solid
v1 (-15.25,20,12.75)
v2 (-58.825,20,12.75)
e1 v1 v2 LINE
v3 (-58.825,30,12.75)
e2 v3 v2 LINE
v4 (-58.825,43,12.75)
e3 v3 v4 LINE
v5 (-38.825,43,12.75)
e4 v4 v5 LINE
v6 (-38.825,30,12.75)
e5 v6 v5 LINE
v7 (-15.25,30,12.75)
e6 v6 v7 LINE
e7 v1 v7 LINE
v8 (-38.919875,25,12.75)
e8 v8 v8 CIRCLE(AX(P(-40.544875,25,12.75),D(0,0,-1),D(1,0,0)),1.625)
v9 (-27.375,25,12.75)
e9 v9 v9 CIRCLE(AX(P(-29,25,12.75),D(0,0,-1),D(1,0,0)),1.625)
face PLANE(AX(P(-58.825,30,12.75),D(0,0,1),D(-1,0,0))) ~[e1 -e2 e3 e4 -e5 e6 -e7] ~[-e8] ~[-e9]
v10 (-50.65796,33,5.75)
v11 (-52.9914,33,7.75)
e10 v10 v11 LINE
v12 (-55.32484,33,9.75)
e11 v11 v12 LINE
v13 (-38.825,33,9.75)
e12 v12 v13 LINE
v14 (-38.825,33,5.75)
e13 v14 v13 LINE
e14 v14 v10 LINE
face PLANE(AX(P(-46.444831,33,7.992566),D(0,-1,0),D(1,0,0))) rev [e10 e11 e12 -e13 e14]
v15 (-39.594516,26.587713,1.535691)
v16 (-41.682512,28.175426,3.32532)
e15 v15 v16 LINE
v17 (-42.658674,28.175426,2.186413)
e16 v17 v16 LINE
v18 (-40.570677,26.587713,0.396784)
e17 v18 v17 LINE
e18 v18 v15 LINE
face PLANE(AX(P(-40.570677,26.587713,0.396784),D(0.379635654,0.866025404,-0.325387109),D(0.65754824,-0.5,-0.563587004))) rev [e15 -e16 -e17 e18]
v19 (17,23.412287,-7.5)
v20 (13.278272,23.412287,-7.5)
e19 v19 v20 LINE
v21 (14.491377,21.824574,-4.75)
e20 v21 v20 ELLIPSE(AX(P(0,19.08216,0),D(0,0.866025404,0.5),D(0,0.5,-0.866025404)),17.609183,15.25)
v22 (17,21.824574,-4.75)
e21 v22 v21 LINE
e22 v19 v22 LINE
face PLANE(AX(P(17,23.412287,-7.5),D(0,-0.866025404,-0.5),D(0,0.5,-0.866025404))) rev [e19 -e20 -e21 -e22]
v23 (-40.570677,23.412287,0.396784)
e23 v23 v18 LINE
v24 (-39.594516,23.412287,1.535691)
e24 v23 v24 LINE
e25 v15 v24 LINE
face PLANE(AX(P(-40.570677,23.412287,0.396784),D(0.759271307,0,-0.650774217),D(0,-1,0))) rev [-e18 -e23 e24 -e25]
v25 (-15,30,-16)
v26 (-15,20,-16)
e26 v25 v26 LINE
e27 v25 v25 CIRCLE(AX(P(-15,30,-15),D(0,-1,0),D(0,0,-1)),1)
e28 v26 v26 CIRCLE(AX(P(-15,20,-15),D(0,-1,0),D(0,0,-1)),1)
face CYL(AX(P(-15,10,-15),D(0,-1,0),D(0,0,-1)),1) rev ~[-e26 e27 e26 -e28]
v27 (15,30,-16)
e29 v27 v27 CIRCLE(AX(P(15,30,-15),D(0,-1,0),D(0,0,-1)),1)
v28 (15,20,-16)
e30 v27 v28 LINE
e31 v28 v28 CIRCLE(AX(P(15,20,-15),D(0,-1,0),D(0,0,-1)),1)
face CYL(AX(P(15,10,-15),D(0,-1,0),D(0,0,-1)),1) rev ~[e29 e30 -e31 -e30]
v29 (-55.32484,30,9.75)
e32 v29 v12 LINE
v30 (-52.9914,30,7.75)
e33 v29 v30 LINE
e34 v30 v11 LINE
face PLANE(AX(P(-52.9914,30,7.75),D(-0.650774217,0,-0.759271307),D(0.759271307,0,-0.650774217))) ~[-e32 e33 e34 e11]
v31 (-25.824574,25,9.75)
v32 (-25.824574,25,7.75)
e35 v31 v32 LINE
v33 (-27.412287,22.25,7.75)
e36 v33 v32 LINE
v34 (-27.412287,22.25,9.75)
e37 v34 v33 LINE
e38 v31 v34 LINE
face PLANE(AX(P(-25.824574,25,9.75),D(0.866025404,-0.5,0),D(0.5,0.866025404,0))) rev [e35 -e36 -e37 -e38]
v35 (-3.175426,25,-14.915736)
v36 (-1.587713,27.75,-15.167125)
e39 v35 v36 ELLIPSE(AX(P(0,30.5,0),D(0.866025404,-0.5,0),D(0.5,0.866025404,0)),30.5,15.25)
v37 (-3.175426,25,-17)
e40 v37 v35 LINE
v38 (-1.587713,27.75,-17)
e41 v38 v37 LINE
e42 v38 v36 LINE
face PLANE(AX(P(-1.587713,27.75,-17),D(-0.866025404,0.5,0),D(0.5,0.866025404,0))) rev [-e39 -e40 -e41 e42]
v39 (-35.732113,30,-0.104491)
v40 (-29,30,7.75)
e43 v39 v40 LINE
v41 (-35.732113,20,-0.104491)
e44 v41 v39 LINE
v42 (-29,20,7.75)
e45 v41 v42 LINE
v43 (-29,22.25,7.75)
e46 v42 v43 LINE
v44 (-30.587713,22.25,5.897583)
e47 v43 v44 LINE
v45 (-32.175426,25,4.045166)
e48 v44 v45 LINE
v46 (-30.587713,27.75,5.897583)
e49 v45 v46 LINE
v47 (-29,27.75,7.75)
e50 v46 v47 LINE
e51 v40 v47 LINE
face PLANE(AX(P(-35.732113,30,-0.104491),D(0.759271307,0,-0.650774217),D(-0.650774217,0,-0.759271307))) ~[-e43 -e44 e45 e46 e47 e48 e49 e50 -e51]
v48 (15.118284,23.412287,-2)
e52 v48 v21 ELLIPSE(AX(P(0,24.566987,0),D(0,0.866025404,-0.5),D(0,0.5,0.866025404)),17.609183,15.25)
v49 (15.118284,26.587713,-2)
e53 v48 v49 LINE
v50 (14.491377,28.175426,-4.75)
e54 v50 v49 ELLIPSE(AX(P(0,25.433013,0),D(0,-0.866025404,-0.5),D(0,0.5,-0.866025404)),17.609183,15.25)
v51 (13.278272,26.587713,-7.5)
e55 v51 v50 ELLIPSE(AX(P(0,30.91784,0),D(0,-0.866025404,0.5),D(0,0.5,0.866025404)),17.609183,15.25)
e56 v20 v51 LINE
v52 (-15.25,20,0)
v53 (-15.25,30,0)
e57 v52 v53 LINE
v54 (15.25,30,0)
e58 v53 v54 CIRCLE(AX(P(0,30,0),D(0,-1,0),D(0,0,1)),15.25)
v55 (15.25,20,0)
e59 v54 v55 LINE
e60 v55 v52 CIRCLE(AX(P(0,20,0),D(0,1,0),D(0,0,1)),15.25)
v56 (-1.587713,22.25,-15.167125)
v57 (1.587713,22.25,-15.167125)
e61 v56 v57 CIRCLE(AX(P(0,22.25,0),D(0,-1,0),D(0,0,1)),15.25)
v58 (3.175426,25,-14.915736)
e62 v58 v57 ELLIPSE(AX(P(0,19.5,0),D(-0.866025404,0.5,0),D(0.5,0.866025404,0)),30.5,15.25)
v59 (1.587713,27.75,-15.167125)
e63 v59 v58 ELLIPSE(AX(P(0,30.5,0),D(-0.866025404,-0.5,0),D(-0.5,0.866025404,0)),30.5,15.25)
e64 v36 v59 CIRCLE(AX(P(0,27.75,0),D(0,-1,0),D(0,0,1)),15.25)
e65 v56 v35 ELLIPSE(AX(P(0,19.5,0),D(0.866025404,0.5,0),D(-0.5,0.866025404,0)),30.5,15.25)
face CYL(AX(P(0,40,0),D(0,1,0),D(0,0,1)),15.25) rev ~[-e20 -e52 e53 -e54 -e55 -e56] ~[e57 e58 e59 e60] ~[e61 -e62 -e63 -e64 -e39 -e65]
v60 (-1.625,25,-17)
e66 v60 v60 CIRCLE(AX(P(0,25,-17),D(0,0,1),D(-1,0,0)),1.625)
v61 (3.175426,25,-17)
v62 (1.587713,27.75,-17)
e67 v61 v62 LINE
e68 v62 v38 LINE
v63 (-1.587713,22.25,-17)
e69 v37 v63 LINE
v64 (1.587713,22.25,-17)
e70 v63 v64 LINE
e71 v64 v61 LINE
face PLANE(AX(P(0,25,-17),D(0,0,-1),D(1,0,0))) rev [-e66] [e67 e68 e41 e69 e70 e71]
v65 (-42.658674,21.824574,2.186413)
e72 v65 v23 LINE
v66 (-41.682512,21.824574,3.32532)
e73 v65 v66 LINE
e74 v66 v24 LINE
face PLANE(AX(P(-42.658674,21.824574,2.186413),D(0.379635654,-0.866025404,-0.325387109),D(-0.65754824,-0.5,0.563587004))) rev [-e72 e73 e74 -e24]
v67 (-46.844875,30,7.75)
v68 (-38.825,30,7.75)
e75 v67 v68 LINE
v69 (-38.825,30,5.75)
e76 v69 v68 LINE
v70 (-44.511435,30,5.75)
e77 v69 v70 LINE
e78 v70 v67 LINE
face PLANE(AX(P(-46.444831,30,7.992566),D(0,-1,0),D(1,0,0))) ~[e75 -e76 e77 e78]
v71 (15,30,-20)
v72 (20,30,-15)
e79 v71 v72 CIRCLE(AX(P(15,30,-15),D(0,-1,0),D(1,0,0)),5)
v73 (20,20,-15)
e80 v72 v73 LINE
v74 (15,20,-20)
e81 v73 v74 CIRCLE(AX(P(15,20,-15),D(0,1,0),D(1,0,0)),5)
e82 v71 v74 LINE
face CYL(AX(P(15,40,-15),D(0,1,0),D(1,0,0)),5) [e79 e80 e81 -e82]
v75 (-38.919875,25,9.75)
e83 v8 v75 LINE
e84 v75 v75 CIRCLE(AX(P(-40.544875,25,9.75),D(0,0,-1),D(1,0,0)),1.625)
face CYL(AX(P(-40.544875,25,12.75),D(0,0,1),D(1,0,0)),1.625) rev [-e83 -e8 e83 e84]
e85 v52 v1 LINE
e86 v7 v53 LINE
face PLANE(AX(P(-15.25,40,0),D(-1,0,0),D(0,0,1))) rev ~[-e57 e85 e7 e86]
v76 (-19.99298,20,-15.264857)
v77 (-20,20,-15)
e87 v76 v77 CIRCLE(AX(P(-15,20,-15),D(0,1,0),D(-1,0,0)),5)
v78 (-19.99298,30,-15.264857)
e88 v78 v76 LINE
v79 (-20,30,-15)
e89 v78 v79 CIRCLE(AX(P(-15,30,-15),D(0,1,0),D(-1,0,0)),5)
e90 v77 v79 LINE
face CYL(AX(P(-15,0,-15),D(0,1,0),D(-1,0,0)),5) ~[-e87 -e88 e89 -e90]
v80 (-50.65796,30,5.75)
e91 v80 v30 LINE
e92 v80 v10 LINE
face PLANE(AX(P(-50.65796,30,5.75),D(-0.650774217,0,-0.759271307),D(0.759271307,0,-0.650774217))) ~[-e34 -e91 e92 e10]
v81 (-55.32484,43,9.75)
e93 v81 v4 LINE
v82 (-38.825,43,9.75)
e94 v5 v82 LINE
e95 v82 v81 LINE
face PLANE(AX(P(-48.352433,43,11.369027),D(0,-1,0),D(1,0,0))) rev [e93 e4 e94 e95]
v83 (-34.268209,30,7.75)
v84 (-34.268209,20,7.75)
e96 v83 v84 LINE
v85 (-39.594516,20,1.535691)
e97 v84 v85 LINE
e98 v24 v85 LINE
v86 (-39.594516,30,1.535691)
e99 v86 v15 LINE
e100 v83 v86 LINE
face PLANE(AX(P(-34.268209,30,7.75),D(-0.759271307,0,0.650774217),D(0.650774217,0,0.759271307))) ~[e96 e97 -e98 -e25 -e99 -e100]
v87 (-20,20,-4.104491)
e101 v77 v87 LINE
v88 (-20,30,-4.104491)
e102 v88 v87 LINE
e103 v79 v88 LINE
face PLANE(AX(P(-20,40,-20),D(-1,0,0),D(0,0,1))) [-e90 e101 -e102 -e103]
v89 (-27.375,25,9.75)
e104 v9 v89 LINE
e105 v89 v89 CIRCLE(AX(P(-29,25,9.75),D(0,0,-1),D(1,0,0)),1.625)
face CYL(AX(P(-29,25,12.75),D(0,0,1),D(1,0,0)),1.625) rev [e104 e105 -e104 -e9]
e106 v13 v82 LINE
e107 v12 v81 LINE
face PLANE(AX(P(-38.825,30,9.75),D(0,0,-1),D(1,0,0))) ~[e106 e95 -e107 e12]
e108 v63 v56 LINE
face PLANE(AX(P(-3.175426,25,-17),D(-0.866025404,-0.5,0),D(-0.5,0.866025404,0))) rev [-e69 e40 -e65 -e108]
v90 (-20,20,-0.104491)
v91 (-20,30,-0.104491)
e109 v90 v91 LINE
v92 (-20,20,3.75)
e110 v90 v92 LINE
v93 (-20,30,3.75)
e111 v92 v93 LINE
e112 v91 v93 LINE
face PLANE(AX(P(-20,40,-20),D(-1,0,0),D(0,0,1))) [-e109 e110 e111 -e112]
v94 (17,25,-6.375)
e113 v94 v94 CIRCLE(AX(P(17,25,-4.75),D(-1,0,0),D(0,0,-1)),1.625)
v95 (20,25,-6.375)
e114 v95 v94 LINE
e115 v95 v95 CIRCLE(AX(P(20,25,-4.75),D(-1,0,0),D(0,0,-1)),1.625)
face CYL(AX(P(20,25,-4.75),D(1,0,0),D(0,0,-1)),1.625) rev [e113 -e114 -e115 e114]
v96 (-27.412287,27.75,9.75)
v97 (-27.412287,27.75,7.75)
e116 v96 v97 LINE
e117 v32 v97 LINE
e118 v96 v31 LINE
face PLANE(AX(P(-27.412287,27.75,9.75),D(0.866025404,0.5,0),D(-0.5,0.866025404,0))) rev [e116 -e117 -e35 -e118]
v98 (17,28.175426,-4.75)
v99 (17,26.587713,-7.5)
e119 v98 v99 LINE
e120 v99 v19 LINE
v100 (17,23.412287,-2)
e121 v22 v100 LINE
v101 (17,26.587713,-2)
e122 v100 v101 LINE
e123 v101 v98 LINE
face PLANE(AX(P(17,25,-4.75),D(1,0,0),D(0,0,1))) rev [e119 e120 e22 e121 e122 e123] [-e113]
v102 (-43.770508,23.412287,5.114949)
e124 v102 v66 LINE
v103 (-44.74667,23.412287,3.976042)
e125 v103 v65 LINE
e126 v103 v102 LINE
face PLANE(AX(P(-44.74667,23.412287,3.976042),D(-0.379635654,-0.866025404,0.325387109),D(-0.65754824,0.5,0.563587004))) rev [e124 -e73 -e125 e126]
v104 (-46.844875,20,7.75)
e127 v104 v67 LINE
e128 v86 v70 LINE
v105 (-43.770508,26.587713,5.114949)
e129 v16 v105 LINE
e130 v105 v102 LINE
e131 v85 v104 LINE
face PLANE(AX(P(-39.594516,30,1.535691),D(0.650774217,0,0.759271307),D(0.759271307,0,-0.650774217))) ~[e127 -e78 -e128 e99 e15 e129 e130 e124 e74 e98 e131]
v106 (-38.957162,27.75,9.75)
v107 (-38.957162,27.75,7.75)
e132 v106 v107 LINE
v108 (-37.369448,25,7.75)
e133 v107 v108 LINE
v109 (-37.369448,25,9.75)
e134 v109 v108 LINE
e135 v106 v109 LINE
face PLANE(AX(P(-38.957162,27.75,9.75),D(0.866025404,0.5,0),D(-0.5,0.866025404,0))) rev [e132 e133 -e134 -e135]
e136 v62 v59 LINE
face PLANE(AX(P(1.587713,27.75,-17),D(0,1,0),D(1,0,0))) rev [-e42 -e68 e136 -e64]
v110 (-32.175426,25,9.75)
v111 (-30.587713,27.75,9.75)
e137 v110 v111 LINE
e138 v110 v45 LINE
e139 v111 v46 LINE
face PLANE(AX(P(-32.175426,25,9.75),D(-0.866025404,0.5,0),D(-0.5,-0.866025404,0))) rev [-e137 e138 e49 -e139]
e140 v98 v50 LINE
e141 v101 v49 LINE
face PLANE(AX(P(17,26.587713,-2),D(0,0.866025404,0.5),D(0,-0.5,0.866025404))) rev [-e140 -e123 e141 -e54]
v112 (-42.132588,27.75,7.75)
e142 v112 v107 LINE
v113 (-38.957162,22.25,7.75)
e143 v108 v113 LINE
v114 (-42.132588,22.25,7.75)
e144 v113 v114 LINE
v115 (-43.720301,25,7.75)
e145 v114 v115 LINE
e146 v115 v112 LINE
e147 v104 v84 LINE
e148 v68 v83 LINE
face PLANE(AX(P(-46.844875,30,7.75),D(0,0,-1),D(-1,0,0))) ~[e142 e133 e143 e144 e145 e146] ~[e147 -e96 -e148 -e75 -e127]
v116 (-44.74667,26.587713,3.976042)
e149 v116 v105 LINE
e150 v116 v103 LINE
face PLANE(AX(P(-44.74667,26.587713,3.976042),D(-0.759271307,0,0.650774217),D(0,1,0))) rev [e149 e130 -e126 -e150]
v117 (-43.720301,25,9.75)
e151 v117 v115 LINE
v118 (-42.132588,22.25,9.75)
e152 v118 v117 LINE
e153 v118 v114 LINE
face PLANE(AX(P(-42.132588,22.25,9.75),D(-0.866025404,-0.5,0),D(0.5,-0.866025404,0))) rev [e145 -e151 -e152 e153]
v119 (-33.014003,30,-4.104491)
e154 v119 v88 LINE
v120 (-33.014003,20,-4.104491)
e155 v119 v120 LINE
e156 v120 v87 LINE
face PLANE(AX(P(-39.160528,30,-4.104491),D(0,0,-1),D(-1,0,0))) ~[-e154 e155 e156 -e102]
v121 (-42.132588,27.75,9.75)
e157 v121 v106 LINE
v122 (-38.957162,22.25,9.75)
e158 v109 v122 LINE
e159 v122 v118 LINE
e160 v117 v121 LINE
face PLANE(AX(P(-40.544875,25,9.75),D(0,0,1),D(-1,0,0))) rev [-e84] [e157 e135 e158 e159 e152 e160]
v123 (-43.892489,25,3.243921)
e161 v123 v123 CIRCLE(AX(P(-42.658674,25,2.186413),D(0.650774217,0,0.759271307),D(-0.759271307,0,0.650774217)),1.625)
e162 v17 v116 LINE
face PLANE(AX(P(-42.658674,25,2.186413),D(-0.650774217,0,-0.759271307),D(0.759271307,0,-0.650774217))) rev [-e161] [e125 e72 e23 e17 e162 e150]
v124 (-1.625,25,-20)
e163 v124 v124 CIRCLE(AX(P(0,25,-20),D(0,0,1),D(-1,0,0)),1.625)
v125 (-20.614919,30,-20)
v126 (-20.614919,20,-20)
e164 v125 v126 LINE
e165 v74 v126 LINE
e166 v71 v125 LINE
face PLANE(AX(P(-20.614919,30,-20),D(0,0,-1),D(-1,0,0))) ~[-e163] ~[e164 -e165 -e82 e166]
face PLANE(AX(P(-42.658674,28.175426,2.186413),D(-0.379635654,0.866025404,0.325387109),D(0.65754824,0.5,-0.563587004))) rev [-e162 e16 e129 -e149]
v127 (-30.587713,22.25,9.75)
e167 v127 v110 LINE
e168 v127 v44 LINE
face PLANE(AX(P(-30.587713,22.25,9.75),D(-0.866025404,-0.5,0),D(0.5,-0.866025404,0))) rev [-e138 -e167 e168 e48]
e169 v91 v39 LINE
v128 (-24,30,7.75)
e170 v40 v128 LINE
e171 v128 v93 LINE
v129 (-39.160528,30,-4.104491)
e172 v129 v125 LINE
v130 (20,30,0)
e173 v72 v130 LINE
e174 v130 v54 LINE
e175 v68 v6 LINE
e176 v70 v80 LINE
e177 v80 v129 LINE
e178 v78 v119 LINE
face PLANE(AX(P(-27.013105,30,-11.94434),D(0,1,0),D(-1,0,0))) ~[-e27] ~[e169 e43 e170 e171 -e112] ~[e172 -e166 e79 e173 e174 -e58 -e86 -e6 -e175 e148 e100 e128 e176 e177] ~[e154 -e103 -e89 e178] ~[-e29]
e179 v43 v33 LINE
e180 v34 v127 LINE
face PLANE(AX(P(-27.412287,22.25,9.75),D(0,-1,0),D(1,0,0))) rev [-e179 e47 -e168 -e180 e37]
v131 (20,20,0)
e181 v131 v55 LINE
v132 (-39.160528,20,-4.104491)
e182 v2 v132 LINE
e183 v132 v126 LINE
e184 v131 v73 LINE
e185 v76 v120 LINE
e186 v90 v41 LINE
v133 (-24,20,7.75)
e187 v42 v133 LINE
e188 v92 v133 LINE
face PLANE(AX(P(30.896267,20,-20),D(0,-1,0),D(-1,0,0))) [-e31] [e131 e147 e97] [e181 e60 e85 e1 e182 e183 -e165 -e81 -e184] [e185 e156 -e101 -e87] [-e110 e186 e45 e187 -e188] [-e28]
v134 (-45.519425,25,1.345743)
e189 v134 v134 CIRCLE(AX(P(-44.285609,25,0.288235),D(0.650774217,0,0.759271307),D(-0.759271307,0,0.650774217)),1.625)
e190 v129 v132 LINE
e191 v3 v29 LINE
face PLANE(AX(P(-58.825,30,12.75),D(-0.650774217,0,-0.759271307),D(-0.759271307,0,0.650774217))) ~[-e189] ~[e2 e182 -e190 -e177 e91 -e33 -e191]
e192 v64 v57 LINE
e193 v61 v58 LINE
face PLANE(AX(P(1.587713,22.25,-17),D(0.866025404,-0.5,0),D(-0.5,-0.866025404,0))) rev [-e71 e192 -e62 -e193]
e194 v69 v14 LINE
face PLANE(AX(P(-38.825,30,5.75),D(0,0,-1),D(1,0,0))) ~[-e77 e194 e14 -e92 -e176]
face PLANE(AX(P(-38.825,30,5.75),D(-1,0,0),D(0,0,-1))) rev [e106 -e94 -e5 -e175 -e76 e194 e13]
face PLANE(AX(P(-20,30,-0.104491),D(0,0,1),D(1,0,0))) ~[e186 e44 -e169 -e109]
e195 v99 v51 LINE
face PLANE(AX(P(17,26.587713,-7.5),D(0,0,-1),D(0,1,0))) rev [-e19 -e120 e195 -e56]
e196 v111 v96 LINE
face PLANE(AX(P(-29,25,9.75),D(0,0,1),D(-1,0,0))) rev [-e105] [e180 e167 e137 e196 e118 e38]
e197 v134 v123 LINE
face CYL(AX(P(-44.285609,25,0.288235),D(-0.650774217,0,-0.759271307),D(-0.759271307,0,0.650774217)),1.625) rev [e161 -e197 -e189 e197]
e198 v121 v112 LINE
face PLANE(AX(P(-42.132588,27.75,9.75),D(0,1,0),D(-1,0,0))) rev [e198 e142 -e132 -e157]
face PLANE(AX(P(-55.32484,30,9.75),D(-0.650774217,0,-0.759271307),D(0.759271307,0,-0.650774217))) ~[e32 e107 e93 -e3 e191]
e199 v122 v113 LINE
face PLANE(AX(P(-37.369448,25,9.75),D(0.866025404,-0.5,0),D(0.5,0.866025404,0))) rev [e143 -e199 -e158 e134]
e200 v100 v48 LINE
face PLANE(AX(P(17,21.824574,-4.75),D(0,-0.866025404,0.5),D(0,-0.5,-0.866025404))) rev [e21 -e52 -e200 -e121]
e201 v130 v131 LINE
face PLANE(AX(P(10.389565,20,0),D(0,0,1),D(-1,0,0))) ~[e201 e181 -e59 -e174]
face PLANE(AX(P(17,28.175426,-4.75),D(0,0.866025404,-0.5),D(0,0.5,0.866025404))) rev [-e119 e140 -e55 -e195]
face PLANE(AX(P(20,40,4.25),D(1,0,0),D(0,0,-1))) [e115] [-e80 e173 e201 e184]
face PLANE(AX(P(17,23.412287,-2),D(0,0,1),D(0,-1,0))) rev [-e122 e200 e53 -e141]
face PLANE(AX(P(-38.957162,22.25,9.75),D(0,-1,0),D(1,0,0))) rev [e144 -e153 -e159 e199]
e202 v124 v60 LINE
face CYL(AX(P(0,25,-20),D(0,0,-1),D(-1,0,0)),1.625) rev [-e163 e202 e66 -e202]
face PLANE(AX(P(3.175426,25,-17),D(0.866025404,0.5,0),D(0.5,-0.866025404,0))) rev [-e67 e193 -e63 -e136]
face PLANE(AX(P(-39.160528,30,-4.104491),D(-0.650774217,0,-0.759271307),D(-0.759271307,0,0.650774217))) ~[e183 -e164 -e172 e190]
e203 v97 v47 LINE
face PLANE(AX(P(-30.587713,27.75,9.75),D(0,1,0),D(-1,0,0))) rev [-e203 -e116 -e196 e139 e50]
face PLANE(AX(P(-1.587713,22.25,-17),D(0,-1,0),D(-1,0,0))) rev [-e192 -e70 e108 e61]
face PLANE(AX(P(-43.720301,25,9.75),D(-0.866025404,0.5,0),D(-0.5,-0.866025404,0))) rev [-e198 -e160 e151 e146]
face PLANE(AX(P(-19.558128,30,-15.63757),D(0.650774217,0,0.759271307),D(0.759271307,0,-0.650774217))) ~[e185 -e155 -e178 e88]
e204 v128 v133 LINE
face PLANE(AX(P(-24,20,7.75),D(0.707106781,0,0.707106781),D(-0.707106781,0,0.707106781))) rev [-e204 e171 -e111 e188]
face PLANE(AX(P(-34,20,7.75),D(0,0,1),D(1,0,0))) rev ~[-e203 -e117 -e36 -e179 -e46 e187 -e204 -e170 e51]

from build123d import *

# Parameters (mm, degrees)
CROQUIS1_R                              = 15.25
CROQUIS1_R_2                            = 2.125
SOPORTE_CAJA_REDUCTORA_DEPTH            = 20
CROQUIS3_R                              = 2.125
CORTAR_EXTRUIR1_DEPTH                   = 51.423828692
REDONDEO1_R                             = 5
BOSS_EXTRUDE1_DEPTH                     = 20
CUT_EXTRUDE1_REACH                      = 55.852
SKETCH2_R                               = 1.625
CUT_EXTRUDE2_DEPTH                      = 2
SKETCH4_R                               = 1.625
CUT_EXTRUDE3_DEPTH                      = 63.291652731
CUT_EXTRUDE4_START                      = -4.5
CUT_EXTRUDE4_DEPTH                      = 2
CROQUIS6_W                              = 4.75
CROQUIS6_H                              = 4.75
CORTAR_EXTRUIR17_DEPTH                  = 42.231056256
CROQUIS7_W                              = 60
CROQUIS7_H                              = 20
CORTAR_EXTRUIR18_DEPTH                  = 51.423828692
SALIENTE_EXTRUIR2_DEPTH                 = 49
SOPORTE_START                           = -15
SOPORTE_MOTOR_DEPTH                     = 15
CROQUIS12_R                             = 2.125
AGUJEROS_DE_SUJECION_A_BASE_DEPTH       = 84.087679592
TUERCA_START                            = -4
TUERCA_AGUJERO_DE_SUJECION_A_BASE_DEPTH = 10
SALIENTE_EXTRUIR4_DEPTH                 = 15
CORTAR_EXTRUIR19_DEPTH                  = 25
CROQUIS14_W                             = 50
CROQUIS14_H                             = 118
CORTAR_EXTRUIR22_DEPTH                  = 146.556045907
CROQUIS15_W                             = 10
CROQUIS15_H                             = 7
CORTAR_EXTRUIR23_DEPTH                  = 42.231056256
CORTAR_EXTRUIR24_DEPTH                  = 42.231056256
CROQUIS18_W                             = 40
CROQUIS18_H                             = 10
CORTAR_EXTRUIR25_DEPTH                  = 44.27311521
SALIENTE_EXTRUIR5_DEPTH                 = 10
CROQUIS20_R                             = 1
CORTAR_EXTRUIR26_DEPTH                  = 49.229270158
CORTAR_EXTRUIR27_REACH                  = 62.959
CORTAR_EXTRUIR27_END_RADIUS             = 15.25
CROQUIS21_R                             = 1.625
CROQUIS22_R                             = 2.125
CROQUIS22_R_2                           = 1
SALIENTE_EXTRUIR6_DEPTH                 = 10
CROQUIS23_R                             = 1.625
CORTAR_EXTRUIR28_DEPTH                  = 52.269508521
CORTAR_EXTRUIR29_START                  = -3
CORTAR_EXTRUIR29_DEPTH                  = 10
SALIENTE_EXTRUIR7_DEPTH                 = 10
CORTAR_EXTRUIR30_REACH                  = 72.235
CROQUIS27_R                             = 1.625
CORTAR_EXTRUIR31_REACH                  = 75.235
CORTAR_EXTRUIR31_START                  = -3
CORTAR_EXTRUIR32_REACH                  = 58.612
CROQUIS29_R                             = 1.625
CORTAR_EXTRUIR33_REACH                  = 61.112
CORTAR_EXTRUIR33_START                  = -2.5
CROQUIS35_W                             = 13.305418987
CROQUIS35_H                             = 6.826864192
CORTAR_EXTRUIR34_DEPTH                  = 63.931555098
CORTAR_EXTRUIR34_DEPTH_BACK             = 63.931555098
CORTAR_EXTRUIR35_START                  = -3
CORTAR_EXTRUIR35_DEPTH                  = 10
SALIENTE_EXTRUIR8_DEPTH                 = 10
SALIENTE_EXTRUIR9_DEPTH                 = 13
SALIENTE_EXTRUIR10_DEPTH                = 3
CROQUIS40_W                             = 106.583537839
CROQUIS40_H                             = 47.391515964
CORTAR_EXTRUIR36_DEPTH                  = 80.887064817
CORTAR_EXTRUIR36_DEPTH_BACK             = 80.887064817


with BuildPart() as part:
    # Croquis1 → Soporte caja reductora (new body)
    with BuildSketch(Plane(origin=(0, 0, 0), x_dir=(1, 0, 0), z_dir=(0, 1, 0))):
        Polygon((-30, -15.25), (-20, -15.25), (-20, -20), (20, -20), (20, -15.25), (30, -15.25), (30, -7.25), (20, -4.25), (20, 20), (-20, 20), (-20, -4.25), (-30, -7.25), align=None)
        with Locations(Location((0, 0, 0), (0, 0, 270))):
            Circle(CROQUIS1_R, mode=Mode.SUBTRACT)
        with Locations(Location((-15, 15, 0), (0, 0, 270))):
            Circle(CROQUIS1_R_2, mode=Mode.SUBTRACT)
        with Locations(Location((15, 15, 0), (0, 0, 270))):
            Circle(CROQUIS1_R_2, mode=Mode.SUBTRACT)
    extrude(amount=-SOPORTE_CAJA_REDUCTORA_DEPTH)

    # Croquis3 → Cortar-Extruir1 (cut, through all)
    with BuildSketch(Plane.XY.offset(15.25)):
        with Locations((-23.5, -10)):
            Circle(CROQUIS3_R)
        with Locations((23.5, -10)):
            Circle(CROQUIS3_R)
    extrude(amount=-CORTAR_EXTRUIR1_DEPTH, mode=Mode.SUBTRACT)

    # Redondeo1
    redondeo1_edges = [part.edges().sort_by_distance(p)[0] for p in [
        (-20, -10, -20),
        (20, -10, -20),
    ]]
    fillet(redondeo1_edges, radius=REDONDEO1_R)

    # Sketch1 → Boss-Extrude1 (add)
    with BuildSketch(Plane(origin=(0, 0, 0), x_dir=(1, 0, 0), z_dir=(0, 1, 0))):
        with BuildLine():
            Line((25.5, 15), (20, 15))
            ThreePointArc((20, 15), (18.535533906, 18.535533906), (15, 20))
            Line((15, 20), (30, 20))
            Line((30, 20), (30, 8))
            Line((30, 8), (25.5, 8))
            Line((25.5, 8), (25.5, 15))
        make_face()
    extrude(amount=-BOSS_EXTRUDE1_DEPTH)

    # Sketch2 → Cut-Extrude1 (cut, up to next)
    with BuildSketch(Plane(origin=(0, 0, -20), x_dir=(-1, 0, 0), z_dir=(0, 0, -1)), mode=Mode.PRIVATE) as cut_extrude1_sk1:
        with Locations((-22.75, -10)):
            Circle(SKETCH2_R)
    cut_extrude1_tool1 = extrude(cut_extrude1_sk1.sketch, amount=-CUT_EXTRUDE1_REACH, mode=Mode.PRIVATE) & part.part
    add(cut_extrude1_tool1.solids().sort_by_distance((22.75, -10, -20))[0], mode=Mode.SUBTRACT)

    # Sketch3 → Cut-Extrude2 (cut)
    with BuildSketch(Plane.XY.offset(-15)):
        Polygon((20, -11.58771324), (22.75, -13.175426481), (25.5, -11.58771324), (25.5, -8.41228676), (22.75, -6.824573519), (20, -8.41228676), align=None)
    extrude(amount=-CUT_EXTRUDE2_DEPTH, mode=Mode.SUBTRACT)

    # Sketch4 → Cut-Extrude3 (cut, through all)
    with BuildSketch(Plane.ZY.offset(-25.5)):
        with Locations((-12.25, -10)):
            Circle(SKETCH4_R)
    extrude(amount=-CUT_EXTRUDE3_DEPTH, mode=Mode.SUBTRACT)

    # Sketch5 → Cut-Extrude4 (cut)
    with BuildSketch(Plane(origin=(30, 0, 0), x_dir=(0, 0, -1), z_dir=(1, 0, 0)).offset(CUT_EXTRUDE4_START)):
        Polygon((15, -11.58771324), (15, -8.41228676), (12.25, -6.824573519), (9.5, -8.41228676), (9.5, -11.58771324), (12.25, -13.175426481), align=None)
    extrude(amount=CUT_EXTRUDE4_DEPTH, mode=Mode.SUBTRACT)

    # Croquis6 → Cortar-Extruir17 (cut, through all)
    with BuildSketch(Plane(origin=(0, 0, 0), x_dir=(1, 0, 0), z_dir=(0, 1, 0))):
        Polygon((0, -15.25), (-15.25, -15.25), (-15.25, -20), (15.25, -20), (15.25, -15.25), align=None)
        with Locations((-17.625, -17.625)):
            Rectangle(CROQUIS6_W, CROQUIS6_H)
        with BuildLine():
            ThreePointArc((0, -15.25), (-10.783378413, -10.783378413), (-15.25, 0))
            Line((-15.25, 0), (-15.25, -15.25))
            Line((-15.25, -15.25), (0, -15.25))
        make_face()
        with BuildLine():
            Line((15.25, -15.25), (15.25, 0))
            ThreePointArc((15.25, 0), (10.783378413, -10.783378413), (0, -15.25))
            Line((0, -15.25), (15.25, -15.25))
        make_face()
        with Locations((17.625, -17.625)):
            Rectangle(CROQUIS6_W, CROQUIS6_H)
    extrude(amount=-CORTAR_EXTRUIR17_DEPTH, mode=Mode.SUBTRACT)


with BuildPart() as body_2:
    # Simetría1: mirrored copy
    add(part.part.mirror(Plane.ZX))

    # Croquis8 → Saliente-Extruir2 (add)
    with BuildSketch(Plane(origin=(0, 20, 0), x_dir=(1, 0, 0), z_dir=(0, 1, 0))):
        with BuildLine():
            Line((-12.664515522, 20), (-11.040489496, 13.939052358))
            Line((-11.040489496, 13.939052358), (-10.315162126, 11.232093763))
            ThreePointArc((-10.315162126, 11.232093763), (0, 15.25), (10.315162126, 11.232093763))
            Line((10.315162126, 11.232093763), (10.817418481, 13.87928066))
            Line((10.817418481, 13.87928066), (11.978715476, 20))
            Line((11.978715476, 20), (-12.664515522, 20))
        make_face()
    extrude(amount=SALIENTE_EXTRUIR2_DEPTH)

    # Croquis9 → Soporte motor (add)
    with BuildSketch(Plane(origin=(0, 69, 0), x_dir=(1, 0, 0), z_dir=(0, 1, 0)).offset(SOPORTE_START)):
        with BuildLine():
            Line((-20, 15), (-20, -4.25))
            Line((-20, -4.25), (-30, -7.25))
            Line((-30, -7.25), (-30, -15.25))
            Line((-30, -15.25), (0, -15.25))
            Line((0, -15.25), (0, -14.75))
            ThreePointArc((0, -14.75), (-10.429825023, 10.429825023), (14.75, 0))
            Line((14.75, 0), (20, 0))
            Line((20, 0), (20, 13.936837101))
            Line((20, 13.936837101), (12.664515522, 20))
            Line((12.664515522, 20), (-15, 20))
            ThreePointArc((-15, 20), (-18.535533906, 18.535533906), (-20, 15))
        make_face()
    extrude(amount=-SOPORTE_MOTOR_DEPTH)

    # Croquis12 → Agujeros de sujecion a base (cut, through all)
    with BuildSketch(Plane.XY.offset(15.25)):
        with Locations((-23.5, 46.5)):
            Circle(CROQUIS12_R)
    extrude(amount=-AGUJEROS_DE_SUJECION_A_BASE_DEPTH, mode=Mode.SUBTRACT)

    # Croquis13 → Tuerca Agujero de sujecion a base (cut)
    with BuildSketch(Plane.XY.offset(15.25).offset(TUERCA_START)):
        Polygon((-20, 44.479274058), (-20, 48.520725942), (-23.5, 50.541451884), (-27, 48.520725942), (-27, 44.479274058), (-23.5, 42.458548116), align=None)
    extrude(amount=-TUERCA_AGUJERO_DE_SUJECION_A_BASE_DEPTH, mode=Mode.SUBTRACT)

    # Croquis10 → Saliente-Extruir4 (add)
    with BuildSketch(Plane(origin=(0, 69, 0), x_dir=(1, 0, 0), z_dir=(0, 1, 0))):
        with BuildLine():
            ThreePointArc((10.315162126, 11.232093763), (0, 15.25), (-10.315162126, 11.232093763))
            Line((-10.315162126, 11.232093763), (-10.16850369, 10.684757026))
            ThreePointArc((-10.16850369, 10.684757026), (0, 14.75), (10.16850369, 10.684757026))
            Line((10.16850369, 10.684757026), (10.315162126, 11.232093763))
        make_face()
    extrude(amount=-SALIENTE_EXTRUIR4_DEPTH)

    # Croquis11 → Cortar-Extruir19 (cut)
    with BuildSketch(Plane.XZ):
        with BuildLine():
            Line((15.25, 4.25), (20, 4.25))
            Line((20, 4.25), (21.972856468, 4.84185694))
            ThreePointArc((21.972856468, 4.84185694), (19.948931102, 10.40625523), (16.543503257, 15.25))
            Line((16.543503257, 15.25), (15.25, 15.25))
            Line((15.25, 15.25), (15.25, 4.25))
        make_face()
        with BuildLine():
            Line((21.972856468, 4.84185694), (30, 7.25))
            Line((30, 7.25), (30, 15.25))
            Line((30, 15.25), (16.543503257, 15.25))
            ThreePointArc((16.543503257, 15.25), (19.948931102, 10.40625523), (21.972856468, 4.84185694))
        make_face()
        with BuildLine():
            ThreePointArc((20, -15), (18.535533906, -18.535533906), (15, -20))
            Line((15, -20), (30, -20))
            Line((30, -20), (30, -8))
            Line((30, -8), (25.5, -8))
            Line((25.5, -8), (25.5, -15))
            Line((25.5, -15), (20, -15))
        make_face()
    extrude(amount=-CORTAR_EXTRUIR19_DEPTH, mode=Mode.SUBTRACT)

    # Simetría2: body 2 across face


with BuildPart() as part_1:
    add(part.part)

    # Croquis7 → Cortar-Extruir18 (cut, through all)
    with BuildSketch(Plane(origin=(0, 0, -20), x_dir=(-1, 0, 0), z_dir=(0, 0, -1))):
        with Locations((0, -10)):
            Rectangle(CROQUIS7_W, CROQUIS7_H)
    extrude(amount=-CORTAR_EXTRUIR18_DEPTH, mode=Mode.SUBTRACT)


with BuildPart() as body_2_1:
    add(body_2.part)
    add(body_2.part.mirror(Plane(origin=(-0.229209569, 69, -16.663998028), x_dir=(0, 0, 1), z_dir=(0, 1, 0))))

    # Croquis14 → Cortar-Extruir22 (cut, through all)
    with BuildSketch(Plane.XY.offset(15.25)):
        with Locations((-5, 79)):
            Rectangle(CROQUIS14_W, CROQUIS14_H)
    extrude(amount=-CORTAR_EXTRUIR22_DEPTH, mode=Mode.SUBTRACT)

    # Croquis15 → Cortar-Extruir23 (cut, through all)
    with BuildSketch(Plane.XZ):
        with Locations((-25, 7.75)):
            Rectangle(CROQUIS15_W, CROQUIS15_H)
    extrude(amount=-CORTAR_EXTRUIR23_DEPTH, mode=Mode.SUBTRACT)

    # Croquis16 → Cortar-Extruir24 (cut, through all)
    with BuildSketch(Plane.XZ):
        Polygon((-30, 15.25), (-15.25, 15.25), (-15.25, 12.75), (-20, 12.75), (-20, 11.25), (-30, 11.25), (-30, 12.75), align=None)
    extrude(amount=-CORTAR_EXTRUIR24_DEPTH, mode=Mode.SUBTRACT)

    # Croquis18 → Cortar-Extruir25 (cut, through all)
    with BuildSketch(Plane(origin=(0, 0, -20), x_dir=(-1, 0, 0), z_dir=(0, 0, -1))):
        with Locations((0, 5)):
            Rectangle(CROQUIS18_W, CROQUIS18_H)
    extrude(amount=-CORTAR_EXTRUIR25_DEPTH, mode=Mode.SUBTRACT)

    # Croquis19 → Saliente-Extruir5 (add)
    with BuildSketch(Plane(origin=(0, 20, 0), x_dir=(1, 0, 0), z_dir=(0, 1, 0))):
        Polygon((-20, -12.75), (-34, -12.75), (-34, -7.75), (-24, -7.75), (-20, -3.75), align=None)
    extrude(amount=-SALIENTE_EXTRUIR5_DEPTH)

    # Croquis20 → Cortar-Extruir26 (cut, through all)
    with BuildSketch(Plane(origin=(0, 0, 7.75), x_dir=(-1, 0, 0), z_dir=(0, 0, -1))):
        with Locations((29, 15)):
            Circle(CROQUIS20_R)
    extrude(amount=-CORTAR_EXTRUIR26_DEPTH, mode=Mode.SUBTRACT)

    # Cortar-Extruir27: up to this cylinder (the profile starts outside it)
    cortar_extruir27_end = Plane(origin=(0, 15, 0), z_dir=(0, -1, 0)) * Cylinder(CORTAR_EXTRUIR27_END_RADIUS, 157.418, mode=Mode.PRIVATE)
    # Croquis21 → Cortar-Extruir27 (cut, up to the surface)
    with BuildSketch(Plane(origin=(20, 0, 0), x_dir=(0, 0, -1), z_dir=(1, 0, 0)), mode=Mode.PRIVATE) as cortar_extruir27_sk1:
        with Locations((4.75, 15)):
            Circle(CROQUIS21_R)
    cortar_extruir27_tool1 = extrude(cortar_extruir27_sk1.sketch, amount=-CORTAR_EXTRUIR27_REACH, mode=Mode.PRIVATE) - cortar_extruir27_end
    add(cortar_extruir27_tool1.solids().sort_by_distance((20, 15, -4.75))[0], mode=Mode.SUBTRACT)

    # Croquis22 → Saliente-Extruir6 (add)
    with BuildSketch(Plane.XZ.offset(-10)):
        with Locations((-15, -15)):
            Circle(CROQUIS22_R)
        with Locations(Location((-15, -15, 0), (0, 0, 270))):
            Circle(CROQUIS22_R_2, mode=Mode.SUBTRACT)
        with Locations((15, -15)):
            Circle(CROQUIS22_R)
        with Locations(Location((15, -15, 0), (0, 0, 270))):
            Circle(CROQUIS22_R_2, mode=Mode.SUBTRACT)
    extrude(amount=-SALIENTE_EXTRUIR6_DEPTH)

    # Croquis23 → Cortar-Extruir28 (cut, through all)
    with BuildSketch(Plane(origin=(0, 0, -20), x_dir=(-1, 0, 0), z_dir=(0, 0, -1))):
        with Locations((0, 15)):
            Circle(CROQUIS23_R)
    extrude(amount=-CORTAR_EXTRUIR28_DEPTH, mode=Mode.SUBTRACT)

    # Croquis24 → Cortar-Extruir29 (cut)
    with BuildSketch(Plane(origin=(0, 0, -20), x_dir=(-1, 0, 0), z_dir=(0, 0, -1)).offset(CORTAR_EXTRUIR29_START)):
        Polygon((1.58771324, 12.25), (3.175426481, 15), (1.58771324, 17.75), (-1.58771324, 17.75), (-3.175426481, 15), (-1.58771324, 12.25), align=None)
    extrude(amount=-CORTAR_EXTRUIR29_DEPTH, mode=Mode.SUBTRACT)

    # Croquis26 → Saliente-Extruir7 (add)
    with BuildSketch(Plane.XZ.offset(-10)):
        Polygon((-34, 7.75), (-34, 12.75), (-58.825, 12.75), (-39.160527763, -4.104491148), (-20, -4.104491148), (-20, -0.104491148), (-35.732113118, -0.104491148), (-29, 7.75), align=None)
        Polygon((-34.268209086, 7.75), (-39.594516123, 1.535690951), (-46.844874897, 7.75), align=None, mode=Mode.SUBTRACT)
    extrude(amount=-SALIENTE_EXTRUIR7_DEPTH)

    # Croquis27 → Cortar-Extruir30 (cut, up to next)
    with BuildSketch(Plane.XY.offset(12.75), mode=Mode.PRIVATE) as cortar_extruir30_sk1:
        with Locations((-40.544874897, 15)):
            Circle(CROQUIS27_R)
    cortar_extruir30_tool1 = extrude(cortar_extruir30_sk1.sketch, amount=-CORTAR_EXTRUIR30_REACH, mode=Mode.PRIVATE) & body_2_1.part
    # Croquis27 → Cortar-Extruir30 (cut, up to next)
    with BuildSketch(Plane.XY.offset(12.75), mode=Mode.PRIVATE) as cortar_extruir30_sk2:
        with Locations((-29, 15)):
            Circle(CROQUIS27_R)
    cortar_extruir30_tool2 = extrude(cortar_extruir30_sk2.sketch, amount=-CORTAR_EXTRUIR30_REACH, mode=Mode.PRIVATE) & body_2_1.part
    add(cortar_extruir30_tool1.solids().sort_by_distance((-40.544875, 15, 12.75))[0], mode=Mode.SUBTRACT)
    add(cortar_extruir30_tool2.solids().sort_by_distance((-29, 15, 12.75))[0], mode=Mode.SUBTRACT)

    # Croquis28 → Cortar-Extruir31 (cut, up to next)
    with BuildSketch(Plane.XY.offset(12.75).offset(CORTAR_EXTRUIR31_START), mode=Mode.PRIVATE) as cortar_extruir31_sk1:
        Polygon((-38.957161657, 12.25), (-37.369448416, 15), (-38.957161657, 17.75), (-42.132588137, 17.75), (-43.720301378, 15), (-42.132588137, 12.25), align=None)
    cortar_extruir31_tool1 = extrude(cortar_extruir31_sk1.sketch, amount=-CORTAR_EXTRUIR31_REACH, mode=Mode.PRIVATE) & body_2_1.part
    # Croquis28 → Cortar-Extruir31 (cut, up to next)
    with BuildSketch(Plane.XY.offset(12.75).offset(CORTAR_EXTRUIR31_START), mode=Mode.PRIVATE) as cortar_extruir31_sk2:
        Polygon((-27.41228676, 12.25), (-25.824573519, 15), (-27.41228676, 17.75), (-30.58771324, 17.75), (-32.175426481, 15), (-30.58771324, 12.25), align=None)
    cortar_extruir31_tool2 = extrude(cortar_extruir31_sk2.sketch, amount=-CORTAR_EXTRUIR31_REACH, mode=Mode.PRIVATE) & body_2_1.part
    add(cortar_extruir31_tool1.solids().sort_by_distance((-40.544875, 15, 9.75))[0], mode=Mode.SUBTRACT)
    add(cortar_extruir31_tool2.solids().sort_by_distance((-29, 15, 9.75))[0], mode=Mode.SUBTRACT)

    # Croquis29 → Cortar-Extruir32 (cut, up to next)
    with BuildSketch(Plane(origin=(-18.612848159, 0, -21.715982563), x_dir=(-0.7592713073348843, 0, 0.6507742172658468), z_dir=(-0.6507742172658468, 0, -0.7592713073348843)), mode=Mode.PRIVATE) as cortar_extruir32_sk1:
        with Locations((33.812368097, 15)):
            Circle(CROQUIS29_R)
    cortar_extruir32_tool1 = extrude(cortar_extruir32_sk1.sketch, amount=-CORTAR_EXTRUIR32_REACH, mode=Mode.PRIVATE) & body_2_1.part
    add(cortar_extruir32_tool1.solids().sort_by_distance((-44.285609, 15, 0.288235))[0], mode=Mode.SUBTRACT)

    # Croquis31 → Cortar-Extruir33 (cut, up to next)
    with BuildSketch(Plane(origin=(-18.612848159, 0, -21.715982563), x_dir=(-0.7592713073348843, 0, 0.6507742172658468), z_dir=(-0.6507742172658468, 0, -0.7592713073348843)).offset(CORTAR_EXTRUIR33_START), mode=Mode.PRIVATE) as cortar_extruir33_sk1:
        Polygon((36.562368097, 16.58771324), (33.812368097, 18.175426481), (31.062368097, 16.58771324), (31.062368097, 13.41228676), (33.812368097, 11.824573519), (36.562368097, 13.41228676), align=None)
    cortar_extruir33_tool1 = extrude(cortar_extruir33_sk1.sketch, amount=-CORTAR_EXTRUIR33_REACH, mode=Mode.PRIVATE) & body_2_1.part
    add(cortar_extruir33_tool1.solids().sort_by_distance((-42.658674, 15, 2.186413))[0], mode=Mode.SUBTRACT)

    # Croquis35 → Cortar-Extruir34 (cut, two sides)
    with BuildSketch(Plane(origin=(0, 20, 0), x_dir=(1, 0, 0), z_dir=(0, 1, 0))) as cortar_extruir34_sk:
        with Locations((17.04227466, -3.413432096)):
            Rectangle(CROQUIS35_W, CROQUIS35_H)
    extrude(amount=CORTAR_EXTRUIR34_DEPTH, mode=Mode.SUBTRACT)
    extrude(cortar_extruir34_sk.sketch, amount=-CORTAR_EXTRUIR34_DEPTH_BACK, mode=Mode.SUBTRACT)

    # Croquis36 → Cortar-Extruir35 (cut)
    with BuildSketch(Plane(origin=(20, 0, 0), x_dir=(0, 0, -1), z_dir=(1, 0, 0)).offset(CORTAR_EXTRUIR35_START)):
        Polygon((7.5, 16.58771324), (4.75, 18.175426481), (2, 16.58771324), (2, 13.41228676), (4.75, 11.824573519), (7.5, 13.41228676), align=None)
    extrude(amount=-CORTAR_EXTRUIR35_DEPTH, mode=Mode.SUBTRACT)

    # Croquis37 → Saliente-Extruir8 (add)
    with BuildSketch(Plane.XZ.offset(-10)):
        Polygon((-39.160527763, -4.104491148), (-20.614919368, -20), (-15, -20), (-19.558128305, -15.637570403), (-33.014002756, -4.104491148), align=None)
    extrude(amount=-SALIENTE_EXTRUIR8_DEPTH)

    # Croquis38 → Saliente-Extruir9 (add)
    with BuildSketch(Plane.XZ.offset(-10)):
        Polygon((-58.825, 12.75), (-38.825, 12.75), (-38.825, 9.75), (-55.324839942, 9.75), align=None)
    extrude(amount=SALIENTE_EXTRUIR9_DEPTH)

    # Croquis39 → Saliente-Extruir10 (add)
    with BuildSketch(Plane.XZ.offset(-10)):
        Polygon((-38.825, 9.75), (-38.825, 7.75), (-38.825, 5.75), (-50.657959865, 5.75), (-52.991399903, 7.75), (-55.324839942, 9.75), align=None)
    extrude(amount=SALIENTE_EXTRUIR10_DEPTH)

    # Simetría3: body 2 across face


with BuildPart() as body_2_2:
    add(body_2_1.part)
    add(body_2_1.part.mirror(Plane(origin=(-18.003999227, 20, -4.220503046), x_dir=(0, 0, 1), z_dir=(0, 1, 0))))

    # Croquis40 → Cortar-Extruir36 (cut, two sides)
    with BuildSketch(Plane(origin=(0, 0, -20), x_dir=(-1, 0, 0), z_dir=(0, 0, -1))) as cortar_extruir36_sk:
        with Locations((22.395502026, -3.695757982)):
            Rectangle(CROQUIS40_W, CROQUIS40_H)
    extrude(amount=CORTAR_EXTRUIR36_DEPTH, mode=Mode.SUBTRACT)
    extrude(cortar_extruir36_sk.sketch, amount=-CORTAR_EXTRUIR36_DEPTH_BACK, mode=Mode.SUBTRACT)


solid = body_2_2.part
